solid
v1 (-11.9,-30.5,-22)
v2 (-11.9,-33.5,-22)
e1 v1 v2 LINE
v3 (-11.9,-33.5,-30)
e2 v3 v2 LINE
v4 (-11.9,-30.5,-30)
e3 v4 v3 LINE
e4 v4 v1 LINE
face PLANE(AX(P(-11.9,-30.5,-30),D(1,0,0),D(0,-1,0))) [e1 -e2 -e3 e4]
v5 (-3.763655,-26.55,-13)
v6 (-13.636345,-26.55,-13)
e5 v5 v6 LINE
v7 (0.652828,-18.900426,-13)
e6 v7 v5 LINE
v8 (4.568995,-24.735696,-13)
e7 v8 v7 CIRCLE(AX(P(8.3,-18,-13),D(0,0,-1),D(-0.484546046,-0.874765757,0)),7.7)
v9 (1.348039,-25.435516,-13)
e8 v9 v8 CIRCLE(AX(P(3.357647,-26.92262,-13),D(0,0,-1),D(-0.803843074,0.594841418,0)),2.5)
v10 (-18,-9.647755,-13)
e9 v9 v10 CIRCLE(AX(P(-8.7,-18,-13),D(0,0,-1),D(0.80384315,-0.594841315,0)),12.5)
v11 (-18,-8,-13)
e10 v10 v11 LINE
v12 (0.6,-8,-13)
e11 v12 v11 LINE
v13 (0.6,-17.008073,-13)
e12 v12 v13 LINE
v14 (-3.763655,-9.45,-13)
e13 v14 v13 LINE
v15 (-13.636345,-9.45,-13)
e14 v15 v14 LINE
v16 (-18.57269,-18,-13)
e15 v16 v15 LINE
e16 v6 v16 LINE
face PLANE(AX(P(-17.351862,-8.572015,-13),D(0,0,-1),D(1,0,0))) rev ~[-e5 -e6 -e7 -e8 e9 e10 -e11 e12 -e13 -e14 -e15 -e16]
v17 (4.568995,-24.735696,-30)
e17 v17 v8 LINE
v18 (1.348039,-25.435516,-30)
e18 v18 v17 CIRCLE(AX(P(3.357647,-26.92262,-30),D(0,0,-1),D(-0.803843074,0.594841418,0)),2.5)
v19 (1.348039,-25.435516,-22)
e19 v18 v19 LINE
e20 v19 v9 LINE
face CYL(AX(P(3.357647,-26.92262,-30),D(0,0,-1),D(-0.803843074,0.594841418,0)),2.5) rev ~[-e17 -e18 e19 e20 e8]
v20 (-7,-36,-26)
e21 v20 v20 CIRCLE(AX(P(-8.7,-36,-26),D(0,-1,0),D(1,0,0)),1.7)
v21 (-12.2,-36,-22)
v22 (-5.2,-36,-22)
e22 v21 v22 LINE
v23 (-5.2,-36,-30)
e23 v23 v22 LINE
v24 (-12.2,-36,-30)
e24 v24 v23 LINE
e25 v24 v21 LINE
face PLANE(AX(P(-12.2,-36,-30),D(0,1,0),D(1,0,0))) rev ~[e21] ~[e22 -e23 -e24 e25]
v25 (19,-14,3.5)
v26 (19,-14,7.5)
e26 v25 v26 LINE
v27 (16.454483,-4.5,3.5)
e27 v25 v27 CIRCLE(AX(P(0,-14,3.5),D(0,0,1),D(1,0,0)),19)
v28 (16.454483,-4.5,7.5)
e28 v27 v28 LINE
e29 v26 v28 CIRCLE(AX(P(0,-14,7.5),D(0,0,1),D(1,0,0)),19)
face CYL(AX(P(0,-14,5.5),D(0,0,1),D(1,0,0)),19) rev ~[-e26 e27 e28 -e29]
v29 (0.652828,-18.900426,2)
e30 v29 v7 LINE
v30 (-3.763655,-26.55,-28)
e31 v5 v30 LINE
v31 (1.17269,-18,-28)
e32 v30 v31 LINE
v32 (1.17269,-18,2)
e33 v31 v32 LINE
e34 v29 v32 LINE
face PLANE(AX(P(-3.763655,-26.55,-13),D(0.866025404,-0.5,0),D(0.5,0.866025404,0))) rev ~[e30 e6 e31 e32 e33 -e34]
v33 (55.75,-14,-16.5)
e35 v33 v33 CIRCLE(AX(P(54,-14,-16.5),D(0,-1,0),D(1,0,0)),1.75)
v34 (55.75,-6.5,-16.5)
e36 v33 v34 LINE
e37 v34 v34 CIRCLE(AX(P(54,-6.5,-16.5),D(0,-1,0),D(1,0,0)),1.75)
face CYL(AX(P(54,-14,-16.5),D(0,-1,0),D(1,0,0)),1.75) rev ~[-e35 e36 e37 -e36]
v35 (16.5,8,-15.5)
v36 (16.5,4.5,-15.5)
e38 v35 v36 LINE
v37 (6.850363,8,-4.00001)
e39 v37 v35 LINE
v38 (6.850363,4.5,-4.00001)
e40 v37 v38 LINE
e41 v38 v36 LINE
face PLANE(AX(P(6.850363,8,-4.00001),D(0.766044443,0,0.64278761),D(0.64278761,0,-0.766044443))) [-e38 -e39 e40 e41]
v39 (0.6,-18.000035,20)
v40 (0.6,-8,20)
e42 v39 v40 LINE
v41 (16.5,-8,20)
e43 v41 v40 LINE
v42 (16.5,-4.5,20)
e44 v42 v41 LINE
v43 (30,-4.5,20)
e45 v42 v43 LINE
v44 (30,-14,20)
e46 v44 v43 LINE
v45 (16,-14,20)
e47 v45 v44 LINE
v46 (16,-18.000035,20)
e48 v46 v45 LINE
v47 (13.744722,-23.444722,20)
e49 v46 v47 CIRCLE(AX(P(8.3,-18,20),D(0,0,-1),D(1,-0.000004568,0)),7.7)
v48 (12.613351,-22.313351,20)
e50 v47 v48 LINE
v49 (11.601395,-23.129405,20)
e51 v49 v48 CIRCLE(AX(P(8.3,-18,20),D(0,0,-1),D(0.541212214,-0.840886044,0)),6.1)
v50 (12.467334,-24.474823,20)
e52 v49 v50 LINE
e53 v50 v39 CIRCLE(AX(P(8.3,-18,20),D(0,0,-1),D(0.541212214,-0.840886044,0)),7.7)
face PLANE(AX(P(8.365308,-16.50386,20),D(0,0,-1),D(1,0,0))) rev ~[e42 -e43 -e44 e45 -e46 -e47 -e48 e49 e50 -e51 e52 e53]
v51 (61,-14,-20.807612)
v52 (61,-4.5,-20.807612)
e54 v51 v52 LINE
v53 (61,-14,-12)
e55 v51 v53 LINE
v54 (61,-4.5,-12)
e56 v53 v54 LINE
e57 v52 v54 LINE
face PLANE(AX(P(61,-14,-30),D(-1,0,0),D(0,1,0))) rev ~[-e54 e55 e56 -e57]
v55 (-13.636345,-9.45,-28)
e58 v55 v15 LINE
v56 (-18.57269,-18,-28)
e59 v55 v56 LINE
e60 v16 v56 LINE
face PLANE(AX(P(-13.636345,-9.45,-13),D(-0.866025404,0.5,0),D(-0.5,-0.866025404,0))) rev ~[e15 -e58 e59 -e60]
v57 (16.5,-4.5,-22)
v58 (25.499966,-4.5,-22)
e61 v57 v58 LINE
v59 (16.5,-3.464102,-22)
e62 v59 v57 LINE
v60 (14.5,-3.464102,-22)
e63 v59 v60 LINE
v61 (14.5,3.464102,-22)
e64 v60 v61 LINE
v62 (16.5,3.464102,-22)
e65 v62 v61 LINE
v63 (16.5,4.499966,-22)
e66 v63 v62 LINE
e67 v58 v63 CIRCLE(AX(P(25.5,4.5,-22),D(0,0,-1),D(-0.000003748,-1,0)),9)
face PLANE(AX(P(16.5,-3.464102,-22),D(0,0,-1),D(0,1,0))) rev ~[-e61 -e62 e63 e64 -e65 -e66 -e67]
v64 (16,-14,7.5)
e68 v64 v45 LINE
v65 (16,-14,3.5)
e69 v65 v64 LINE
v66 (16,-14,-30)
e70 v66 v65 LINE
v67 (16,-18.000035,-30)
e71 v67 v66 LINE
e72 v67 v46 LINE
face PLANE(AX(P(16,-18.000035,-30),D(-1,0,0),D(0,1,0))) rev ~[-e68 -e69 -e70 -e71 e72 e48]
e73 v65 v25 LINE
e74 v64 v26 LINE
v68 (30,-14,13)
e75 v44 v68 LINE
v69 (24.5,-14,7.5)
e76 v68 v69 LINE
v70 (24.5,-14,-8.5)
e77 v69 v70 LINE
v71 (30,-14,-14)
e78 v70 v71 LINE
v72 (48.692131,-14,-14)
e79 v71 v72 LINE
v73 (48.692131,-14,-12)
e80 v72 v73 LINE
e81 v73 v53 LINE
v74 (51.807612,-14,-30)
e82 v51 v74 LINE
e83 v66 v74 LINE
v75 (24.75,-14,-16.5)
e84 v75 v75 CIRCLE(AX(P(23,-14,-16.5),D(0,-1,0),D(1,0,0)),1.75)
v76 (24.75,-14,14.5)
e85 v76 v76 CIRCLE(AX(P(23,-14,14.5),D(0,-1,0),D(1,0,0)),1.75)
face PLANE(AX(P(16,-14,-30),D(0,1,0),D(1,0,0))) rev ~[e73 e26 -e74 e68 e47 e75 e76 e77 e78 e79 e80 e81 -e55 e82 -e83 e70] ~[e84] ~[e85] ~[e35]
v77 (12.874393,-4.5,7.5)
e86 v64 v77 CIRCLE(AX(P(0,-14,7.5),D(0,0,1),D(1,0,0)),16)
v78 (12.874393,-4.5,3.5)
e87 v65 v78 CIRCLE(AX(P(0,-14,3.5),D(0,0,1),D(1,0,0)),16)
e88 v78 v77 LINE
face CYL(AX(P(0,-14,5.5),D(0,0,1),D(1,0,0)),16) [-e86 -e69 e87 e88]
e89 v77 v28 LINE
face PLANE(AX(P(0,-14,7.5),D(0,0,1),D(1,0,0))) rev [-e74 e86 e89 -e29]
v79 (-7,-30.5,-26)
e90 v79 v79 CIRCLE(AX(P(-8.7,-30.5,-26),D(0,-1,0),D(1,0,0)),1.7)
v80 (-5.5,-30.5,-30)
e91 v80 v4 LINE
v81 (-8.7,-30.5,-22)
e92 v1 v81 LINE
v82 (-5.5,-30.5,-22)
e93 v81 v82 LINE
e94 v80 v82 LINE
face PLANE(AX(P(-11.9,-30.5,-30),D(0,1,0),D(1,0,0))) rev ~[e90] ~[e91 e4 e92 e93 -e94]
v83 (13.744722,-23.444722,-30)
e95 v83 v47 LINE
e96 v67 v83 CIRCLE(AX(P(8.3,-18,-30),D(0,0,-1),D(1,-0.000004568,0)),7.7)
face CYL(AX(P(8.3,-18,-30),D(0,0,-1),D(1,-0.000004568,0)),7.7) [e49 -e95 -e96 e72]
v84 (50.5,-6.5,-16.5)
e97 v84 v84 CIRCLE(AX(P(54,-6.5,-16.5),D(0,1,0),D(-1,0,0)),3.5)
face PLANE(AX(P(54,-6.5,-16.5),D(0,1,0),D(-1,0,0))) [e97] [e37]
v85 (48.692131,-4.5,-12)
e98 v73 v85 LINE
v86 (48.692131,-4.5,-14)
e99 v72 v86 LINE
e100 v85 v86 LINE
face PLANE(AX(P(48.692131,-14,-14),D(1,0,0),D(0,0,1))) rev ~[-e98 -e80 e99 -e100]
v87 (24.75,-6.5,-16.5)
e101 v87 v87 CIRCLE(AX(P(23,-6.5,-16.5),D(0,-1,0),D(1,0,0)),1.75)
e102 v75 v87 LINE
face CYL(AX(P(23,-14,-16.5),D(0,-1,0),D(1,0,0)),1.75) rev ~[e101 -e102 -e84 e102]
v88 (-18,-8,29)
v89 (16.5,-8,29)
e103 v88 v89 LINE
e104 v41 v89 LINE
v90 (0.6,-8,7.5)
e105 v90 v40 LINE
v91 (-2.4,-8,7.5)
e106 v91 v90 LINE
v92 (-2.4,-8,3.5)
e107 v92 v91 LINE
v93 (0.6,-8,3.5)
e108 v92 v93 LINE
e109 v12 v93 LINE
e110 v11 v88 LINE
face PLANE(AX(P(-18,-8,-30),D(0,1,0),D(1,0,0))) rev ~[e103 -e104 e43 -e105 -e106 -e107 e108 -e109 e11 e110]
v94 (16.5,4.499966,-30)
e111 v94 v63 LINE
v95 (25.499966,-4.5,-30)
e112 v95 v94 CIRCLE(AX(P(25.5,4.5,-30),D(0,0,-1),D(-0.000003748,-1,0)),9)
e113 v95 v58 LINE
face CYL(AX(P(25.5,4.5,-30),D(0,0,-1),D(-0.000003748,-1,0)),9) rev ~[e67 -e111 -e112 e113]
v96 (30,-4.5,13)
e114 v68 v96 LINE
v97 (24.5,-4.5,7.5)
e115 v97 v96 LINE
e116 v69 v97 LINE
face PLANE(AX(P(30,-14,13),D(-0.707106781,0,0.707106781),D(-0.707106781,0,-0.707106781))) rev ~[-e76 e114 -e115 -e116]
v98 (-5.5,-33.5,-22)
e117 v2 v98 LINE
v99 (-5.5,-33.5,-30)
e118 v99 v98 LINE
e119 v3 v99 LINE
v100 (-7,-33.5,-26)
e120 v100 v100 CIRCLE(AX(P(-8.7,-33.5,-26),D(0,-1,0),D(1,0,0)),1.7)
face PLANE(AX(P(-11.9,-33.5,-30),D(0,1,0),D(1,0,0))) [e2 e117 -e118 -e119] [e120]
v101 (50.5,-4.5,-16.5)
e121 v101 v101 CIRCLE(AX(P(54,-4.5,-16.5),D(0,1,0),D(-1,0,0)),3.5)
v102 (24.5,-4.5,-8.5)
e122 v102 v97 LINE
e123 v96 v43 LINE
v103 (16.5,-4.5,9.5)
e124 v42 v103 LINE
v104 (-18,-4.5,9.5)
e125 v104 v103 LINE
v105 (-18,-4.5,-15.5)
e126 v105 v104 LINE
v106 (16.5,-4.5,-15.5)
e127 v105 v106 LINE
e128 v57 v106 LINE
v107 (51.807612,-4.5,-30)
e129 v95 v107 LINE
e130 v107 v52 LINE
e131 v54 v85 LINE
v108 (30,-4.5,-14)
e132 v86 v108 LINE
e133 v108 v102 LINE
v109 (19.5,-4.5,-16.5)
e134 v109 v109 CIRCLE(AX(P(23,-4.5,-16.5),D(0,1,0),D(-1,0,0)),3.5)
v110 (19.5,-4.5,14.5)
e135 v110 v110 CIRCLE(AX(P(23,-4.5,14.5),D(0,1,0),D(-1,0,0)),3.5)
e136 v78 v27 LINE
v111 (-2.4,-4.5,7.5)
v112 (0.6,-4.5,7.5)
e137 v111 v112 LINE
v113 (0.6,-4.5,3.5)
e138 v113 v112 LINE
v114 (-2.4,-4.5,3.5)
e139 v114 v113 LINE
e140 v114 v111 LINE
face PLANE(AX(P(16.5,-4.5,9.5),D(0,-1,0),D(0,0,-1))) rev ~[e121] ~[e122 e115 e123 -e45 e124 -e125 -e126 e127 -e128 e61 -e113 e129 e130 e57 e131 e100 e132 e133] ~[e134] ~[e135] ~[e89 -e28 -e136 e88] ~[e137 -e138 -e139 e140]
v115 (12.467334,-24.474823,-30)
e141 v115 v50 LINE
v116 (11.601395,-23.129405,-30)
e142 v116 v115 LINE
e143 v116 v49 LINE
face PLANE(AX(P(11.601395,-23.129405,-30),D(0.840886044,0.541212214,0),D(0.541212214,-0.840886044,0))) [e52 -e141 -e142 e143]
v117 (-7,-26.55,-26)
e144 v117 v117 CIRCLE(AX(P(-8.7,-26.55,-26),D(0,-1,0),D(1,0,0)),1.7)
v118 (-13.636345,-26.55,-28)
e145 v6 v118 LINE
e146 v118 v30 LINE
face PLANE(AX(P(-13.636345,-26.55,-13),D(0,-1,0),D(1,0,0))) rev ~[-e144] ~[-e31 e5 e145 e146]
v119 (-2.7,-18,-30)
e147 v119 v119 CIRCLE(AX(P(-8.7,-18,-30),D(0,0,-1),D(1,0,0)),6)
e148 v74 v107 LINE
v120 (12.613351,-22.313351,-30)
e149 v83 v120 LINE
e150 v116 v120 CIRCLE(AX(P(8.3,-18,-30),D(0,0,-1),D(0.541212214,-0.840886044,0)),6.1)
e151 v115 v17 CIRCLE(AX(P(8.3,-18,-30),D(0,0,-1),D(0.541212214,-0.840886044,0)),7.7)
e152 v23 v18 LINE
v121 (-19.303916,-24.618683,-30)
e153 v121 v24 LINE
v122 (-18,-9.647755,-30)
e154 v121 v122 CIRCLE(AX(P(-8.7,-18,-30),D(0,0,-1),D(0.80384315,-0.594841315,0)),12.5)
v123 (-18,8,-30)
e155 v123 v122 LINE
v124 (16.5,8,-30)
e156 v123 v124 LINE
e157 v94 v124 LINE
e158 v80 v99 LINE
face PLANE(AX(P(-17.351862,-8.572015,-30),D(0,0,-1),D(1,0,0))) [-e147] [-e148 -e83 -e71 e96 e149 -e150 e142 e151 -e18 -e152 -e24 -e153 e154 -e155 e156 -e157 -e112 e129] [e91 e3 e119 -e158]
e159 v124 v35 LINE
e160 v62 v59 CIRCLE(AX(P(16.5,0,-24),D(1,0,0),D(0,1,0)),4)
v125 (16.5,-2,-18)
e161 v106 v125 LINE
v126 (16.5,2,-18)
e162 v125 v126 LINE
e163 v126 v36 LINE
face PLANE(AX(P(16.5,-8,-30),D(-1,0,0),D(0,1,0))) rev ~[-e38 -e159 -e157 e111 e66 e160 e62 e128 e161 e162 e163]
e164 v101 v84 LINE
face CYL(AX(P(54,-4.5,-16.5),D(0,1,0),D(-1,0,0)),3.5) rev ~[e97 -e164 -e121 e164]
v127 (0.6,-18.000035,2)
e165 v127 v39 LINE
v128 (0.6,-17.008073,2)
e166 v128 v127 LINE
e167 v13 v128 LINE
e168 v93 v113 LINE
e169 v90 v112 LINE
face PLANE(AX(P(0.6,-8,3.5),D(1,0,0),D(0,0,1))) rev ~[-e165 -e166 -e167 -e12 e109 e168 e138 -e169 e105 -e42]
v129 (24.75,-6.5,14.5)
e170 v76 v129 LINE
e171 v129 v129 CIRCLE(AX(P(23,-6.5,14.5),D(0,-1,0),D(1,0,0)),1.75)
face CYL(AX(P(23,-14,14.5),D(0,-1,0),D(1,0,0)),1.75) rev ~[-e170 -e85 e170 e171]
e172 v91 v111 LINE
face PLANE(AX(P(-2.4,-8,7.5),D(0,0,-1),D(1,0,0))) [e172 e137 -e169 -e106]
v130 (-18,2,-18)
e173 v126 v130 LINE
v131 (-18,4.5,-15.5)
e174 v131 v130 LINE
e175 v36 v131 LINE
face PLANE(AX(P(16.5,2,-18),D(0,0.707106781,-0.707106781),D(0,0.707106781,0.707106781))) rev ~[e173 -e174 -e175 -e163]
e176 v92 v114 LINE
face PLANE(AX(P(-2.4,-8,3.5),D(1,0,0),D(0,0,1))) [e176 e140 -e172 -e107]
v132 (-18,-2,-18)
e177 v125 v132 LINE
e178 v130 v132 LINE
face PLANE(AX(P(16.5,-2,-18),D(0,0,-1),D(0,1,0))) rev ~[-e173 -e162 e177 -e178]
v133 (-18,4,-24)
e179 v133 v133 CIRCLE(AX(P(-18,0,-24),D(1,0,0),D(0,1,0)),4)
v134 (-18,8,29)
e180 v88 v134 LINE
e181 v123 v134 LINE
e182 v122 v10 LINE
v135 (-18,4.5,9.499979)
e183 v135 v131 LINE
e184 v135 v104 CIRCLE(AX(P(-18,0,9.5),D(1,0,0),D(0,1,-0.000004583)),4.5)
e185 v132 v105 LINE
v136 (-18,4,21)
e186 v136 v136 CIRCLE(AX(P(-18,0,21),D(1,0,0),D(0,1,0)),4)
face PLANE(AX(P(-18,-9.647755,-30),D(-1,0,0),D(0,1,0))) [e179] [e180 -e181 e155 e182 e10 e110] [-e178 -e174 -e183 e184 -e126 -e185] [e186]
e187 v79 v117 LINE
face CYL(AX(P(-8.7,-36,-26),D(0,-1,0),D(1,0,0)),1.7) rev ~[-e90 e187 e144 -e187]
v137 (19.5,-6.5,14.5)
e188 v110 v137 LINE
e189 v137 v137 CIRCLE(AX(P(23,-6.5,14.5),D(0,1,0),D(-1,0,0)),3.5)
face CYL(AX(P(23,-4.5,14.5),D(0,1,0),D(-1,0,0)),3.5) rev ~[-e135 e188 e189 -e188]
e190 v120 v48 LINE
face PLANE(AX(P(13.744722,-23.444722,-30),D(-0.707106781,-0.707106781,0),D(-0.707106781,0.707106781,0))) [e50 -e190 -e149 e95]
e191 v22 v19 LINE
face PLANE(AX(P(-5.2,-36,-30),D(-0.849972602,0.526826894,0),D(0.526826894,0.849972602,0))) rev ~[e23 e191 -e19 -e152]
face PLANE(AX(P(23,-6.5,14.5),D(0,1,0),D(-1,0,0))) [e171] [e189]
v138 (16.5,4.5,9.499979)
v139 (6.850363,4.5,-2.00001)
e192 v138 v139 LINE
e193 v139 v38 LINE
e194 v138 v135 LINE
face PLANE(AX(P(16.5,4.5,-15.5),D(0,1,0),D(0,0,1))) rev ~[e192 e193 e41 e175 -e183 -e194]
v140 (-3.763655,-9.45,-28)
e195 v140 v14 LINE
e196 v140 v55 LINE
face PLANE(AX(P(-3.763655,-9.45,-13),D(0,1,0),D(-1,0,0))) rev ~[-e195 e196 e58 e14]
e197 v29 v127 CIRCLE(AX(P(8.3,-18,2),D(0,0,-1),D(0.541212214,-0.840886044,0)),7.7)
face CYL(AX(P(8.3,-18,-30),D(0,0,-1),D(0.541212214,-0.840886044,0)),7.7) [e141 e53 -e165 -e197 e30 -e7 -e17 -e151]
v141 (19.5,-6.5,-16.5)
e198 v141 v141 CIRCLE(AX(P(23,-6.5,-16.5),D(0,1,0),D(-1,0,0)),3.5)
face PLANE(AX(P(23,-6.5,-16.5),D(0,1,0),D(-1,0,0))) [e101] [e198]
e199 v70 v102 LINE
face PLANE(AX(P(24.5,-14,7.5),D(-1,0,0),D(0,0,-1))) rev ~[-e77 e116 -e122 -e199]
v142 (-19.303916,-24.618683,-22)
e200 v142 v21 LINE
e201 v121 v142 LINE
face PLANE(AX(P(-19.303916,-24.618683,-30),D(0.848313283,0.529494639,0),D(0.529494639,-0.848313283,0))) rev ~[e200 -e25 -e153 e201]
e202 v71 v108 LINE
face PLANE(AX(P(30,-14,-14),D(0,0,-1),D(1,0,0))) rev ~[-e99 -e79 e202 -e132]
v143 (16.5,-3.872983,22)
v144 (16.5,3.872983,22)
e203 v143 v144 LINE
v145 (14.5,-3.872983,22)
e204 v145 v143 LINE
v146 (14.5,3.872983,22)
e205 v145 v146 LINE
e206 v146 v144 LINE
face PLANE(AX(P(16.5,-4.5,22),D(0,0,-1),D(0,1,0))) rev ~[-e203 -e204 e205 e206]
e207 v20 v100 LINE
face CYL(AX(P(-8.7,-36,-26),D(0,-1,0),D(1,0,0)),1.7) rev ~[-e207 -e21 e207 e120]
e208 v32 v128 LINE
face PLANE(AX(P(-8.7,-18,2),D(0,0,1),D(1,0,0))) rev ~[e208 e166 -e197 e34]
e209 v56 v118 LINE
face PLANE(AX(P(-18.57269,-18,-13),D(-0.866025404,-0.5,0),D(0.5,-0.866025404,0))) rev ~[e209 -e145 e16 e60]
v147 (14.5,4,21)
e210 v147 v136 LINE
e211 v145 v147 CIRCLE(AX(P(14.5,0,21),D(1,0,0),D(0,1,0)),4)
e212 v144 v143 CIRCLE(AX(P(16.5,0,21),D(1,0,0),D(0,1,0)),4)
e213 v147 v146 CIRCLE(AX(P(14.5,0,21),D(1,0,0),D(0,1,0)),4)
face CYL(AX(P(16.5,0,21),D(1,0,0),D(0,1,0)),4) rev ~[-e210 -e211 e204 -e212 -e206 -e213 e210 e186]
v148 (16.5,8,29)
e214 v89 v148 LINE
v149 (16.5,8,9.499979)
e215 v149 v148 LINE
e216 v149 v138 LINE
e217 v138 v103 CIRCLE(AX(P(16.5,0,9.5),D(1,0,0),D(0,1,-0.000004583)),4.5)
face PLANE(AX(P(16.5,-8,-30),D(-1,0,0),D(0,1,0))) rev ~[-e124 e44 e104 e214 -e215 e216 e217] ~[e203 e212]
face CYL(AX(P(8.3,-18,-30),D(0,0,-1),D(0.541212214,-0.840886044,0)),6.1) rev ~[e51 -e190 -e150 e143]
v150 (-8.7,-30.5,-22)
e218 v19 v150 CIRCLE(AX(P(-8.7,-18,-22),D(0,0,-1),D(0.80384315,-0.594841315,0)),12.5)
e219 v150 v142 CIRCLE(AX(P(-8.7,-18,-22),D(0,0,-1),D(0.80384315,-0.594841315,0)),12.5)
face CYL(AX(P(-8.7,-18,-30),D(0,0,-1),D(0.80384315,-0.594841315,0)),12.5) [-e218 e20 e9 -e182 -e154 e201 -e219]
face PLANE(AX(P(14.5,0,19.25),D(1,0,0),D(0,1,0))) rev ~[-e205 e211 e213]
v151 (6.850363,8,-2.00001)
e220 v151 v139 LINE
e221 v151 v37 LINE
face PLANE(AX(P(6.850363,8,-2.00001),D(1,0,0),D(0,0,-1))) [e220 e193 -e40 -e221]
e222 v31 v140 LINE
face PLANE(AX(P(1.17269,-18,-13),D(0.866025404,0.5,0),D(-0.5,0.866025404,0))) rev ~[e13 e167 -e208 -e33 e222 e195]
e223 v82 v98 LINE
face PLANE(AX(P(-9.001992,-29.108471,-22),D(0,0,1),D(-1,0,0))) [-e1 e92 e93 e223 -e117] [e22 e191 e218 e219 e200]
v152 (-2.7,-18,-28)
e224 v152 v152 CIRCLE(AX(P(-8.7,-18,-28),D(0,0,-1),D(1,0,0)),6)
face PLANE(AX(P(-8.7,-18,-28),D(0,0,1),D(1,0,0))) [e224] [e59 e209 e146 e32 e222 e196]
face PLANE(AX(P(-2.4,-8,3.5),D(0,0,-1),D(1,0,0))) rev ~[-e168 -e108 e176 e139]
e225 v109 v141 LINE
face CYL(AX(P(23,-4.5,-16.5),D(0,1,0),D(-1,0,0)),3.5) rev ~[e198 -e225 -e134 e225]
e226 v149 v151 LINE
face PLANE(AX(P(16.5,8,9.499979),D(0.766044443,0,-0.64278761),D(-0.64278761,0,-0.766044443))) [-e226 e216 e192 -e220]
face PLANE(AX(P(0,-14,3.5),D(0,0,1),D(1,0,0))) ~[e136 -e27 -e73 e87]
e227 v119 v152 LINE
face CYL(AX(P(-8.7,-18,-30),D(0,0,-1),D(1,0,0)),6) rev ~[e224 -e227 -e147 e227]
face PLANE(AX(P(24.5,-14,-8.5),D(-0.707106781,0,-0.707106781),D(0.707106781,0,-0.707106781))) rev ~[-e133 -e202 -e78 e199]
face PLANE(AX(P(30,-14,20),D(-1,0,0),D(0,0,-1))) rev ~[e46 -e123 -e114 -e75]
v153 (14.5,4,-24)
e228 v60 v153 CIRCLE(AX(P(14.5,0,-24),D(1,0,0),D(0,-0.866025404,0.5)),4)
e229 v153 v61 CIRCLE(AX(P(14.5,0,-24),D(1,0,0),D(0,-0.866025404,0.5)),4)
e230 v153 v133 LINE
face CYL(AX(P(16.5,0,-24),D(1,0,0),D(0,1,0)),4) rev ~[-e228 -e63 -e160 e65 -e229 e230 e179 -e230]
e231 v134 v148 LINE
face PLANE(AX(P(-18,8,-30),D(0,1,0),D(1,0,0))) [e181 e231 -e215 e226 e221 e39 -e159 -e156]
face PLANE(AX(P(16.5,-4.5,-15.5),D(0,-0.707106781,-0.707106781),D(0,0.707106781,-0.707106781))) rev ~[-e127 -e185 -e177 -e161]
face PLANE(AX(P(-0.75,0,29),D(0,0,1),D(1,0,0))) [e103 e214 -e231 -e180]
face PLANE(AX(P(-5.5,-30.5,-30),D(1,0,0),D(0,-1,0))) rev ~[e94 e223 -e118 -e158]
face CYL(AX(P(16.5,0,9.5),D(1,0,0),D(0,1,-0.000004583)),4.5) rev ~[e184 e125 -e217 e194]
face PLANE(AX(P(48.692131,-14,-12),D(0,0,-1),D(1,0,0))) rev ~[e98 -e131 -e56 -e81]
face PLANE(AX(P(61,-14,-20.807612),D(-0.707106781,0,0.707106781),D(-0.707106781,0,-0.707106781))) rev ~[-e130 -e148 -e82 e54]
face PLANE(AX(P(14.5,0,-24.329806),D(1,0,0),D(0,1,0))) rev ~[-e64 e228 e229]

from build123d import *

# Parameters (mm, degrees)
BOX_W           = 34.5
BOX_H           = 16
BOX_DEPTH       = 59
SKETCH_R        = 4
POCKET_DEPTH    = 34.501
POCKET001_DEPTH = 3.5000000001
BOX001_W        = 45
BOX001_H        = 9.5
BOX001_DEPTH    = 50
SKETCH008_R     = 1.75
POCKET002_DEPTH = 9.5010000001
PAD_DEPTH       = 8
PAD001_DEPTH    = 2
SKETCH009_R     = 3.5
POCKET003_DEPTH = 2
PAD002_DEPTH    = 50
SKETCH013_R     = 6
PAD003_DEPTH    = 17
SKETCH019_W     = 9
SKETCH019_H     = 5.5
PAD004_DEPTH    = 2
SKETCH015_W     = 3
SKETCH015_H     = 4
GROOVE_ANGLE    = 40
SKETCH016_W     = 3
SKETCH016_H     = 4
POCKET004_DEPTH = 5
SKETCH020_W     = 6.4
SKETCH020_H     = 3
PAD005_DEPTH    = 8
SKETCH021_R     = 1.7
POCKET005_DEPTH = 13
POCKET006_DEPTH = 15
PAD006_DEPTH    = 17


with BuildPart() as pocket001:
    # Box → Box (new body)
    with BuildSketch(Plane(origin=(-18, -8, -30), x_dir=(1, 0, 0), z_dir=(0, 0, 1))):
        with Locations((17.25, 8)):
            Rectangle(BOX_W, BOX_H)
    extrude(amount=BOX_DEPTH)

    # Sketch → Pocket (cut, through all)
    with BuildSketch(Plane(origin=(16.5, -8, -30), x_dir=(0, 1, 0), z_dir=(1, 0, 0))):
        with Locations((8, 51)):
            Circle(SKETCH_R)
        with Locations((8, 6)):
            Circle(SKETCH_R)
        with BuildLine():
            ThreePointArc((12.5, 39.4999793754), (8.0000103123, 44), (3.5, 39.5))
            Line((3.5, 39.5), (3.5, 14.5))
            Line((3.5, 14.5), (6, 12))
            Line((6, 12), (10, 12))
            Line((10, 12), (12.5, 14.5))
            Line((12.5, 14.5), (12.5, 39.4999793754))
        make_face()
    extrude(amount=-POCKET_DEPTH, mode=Mode.SUBTRACT)

    # Sketch007 → Pocket001 (cut)
    with BuildSketch(Plane(origin=(-18, 8, -30), x_dir=(-1, 0, 0), z_dir=(0, 1, 0))):
        Polygon((-34.5, 39.4999793754), (-24.8503628945, 27.9999896877), (-24.8503628945, 25.9999896877), (-34.5, 14.5), align=None)
    extrude(amount=-POCKET001_DEPTH, mode=Mode.SUBTRACT)


with BuildPart() as pad006:
    # Box001 → Box001 (new body)
    with BuildSketch(Plane(origin=(16, -14, -30), x_dir=(1, 0, 0), z_dir=(0, 0, 1))):
        with Locations((22.5, 4.75)):
            Rectangle(BOX001_W, BOX001_H)
    extrude(amount=BOX001_DEPTH)

    # Sketch008 → Pocket002 (cut, through all)
    with BuildSketch(Plane(origin=(16, -14, -30), x_dir=(1, 0, 0), z_dir=(0, -1, 0))):
        with Locations((7, 44.5)):
            Circle(SKETCH008_R)
        with Locations((7, 13.5)):
            Circle(SKETCH008_R)
        with Locations((38, 13.5)):
            Circle(SKETCH008_R)
        Polygon((14, 50), (14, 43), (8.5, 37.5), (8.5, 21.5), (14, 16), (32.692131, 16), (32.692131, 18), (45, 18), (45, 50), align=None)
        Polygon((45, 9.1923881554), (35.8076118446, 0), (45, 0), align=None)
    extrude(amount=-POCKET002_DEPTH, mode=Mode.SUBTRACT)

    # Fusion: union Pocket001
    add(pocket001.part)

    # Sketch010 → Pad (new body)
    with BuildSketch(Plane(origin=(0, 0, -30), x_dir=(1, 0, 0), z_dir=(0, 0, -1))):
        with BuildLine():
            ThreePointArc((25.4999662688, 4.4999999999), (19.1360389694, 1.8639610307), (16.5000000001, -4.4999662687))
            Line((16.5000000001, -4.4999662687), (16.5000000001, 4.4999999999))
            Line((16.5000000001, 4.4999999999), (25.4999662688, 4.4999999999))
        make_face()
    extrude(amount=-PAD_DEPTH)

    # Sketch011 → Pad001 (new body)
    with BuildSketch(Plane.YZ.offset(16.5)):
        with BuildLine():
            ThreePointArc((-3.4641016151, -22), (0, -28), (3.4641016151, -22))
            Line((-3.4641016151, -22), (3.4641016151, -22))
        make_face()
    extrude(amount=-PAD001_DEPTH)

    # Sketch009 → Pocket003 (cut)
    with BuildSketch(Plane(origin=(0, -4.5, 0), x_dir=(-1, 0, 0), z_dir=(0, 1, 0))):
        with Locations((-23, 14.5)):
            Circle(SKETCH009_R)
        with Locations((-54, -16.5)):
            Circle(SKETCH009_R)
        with Locations((-23, -16.5)):
            Circle(SKETCH009_R)
    extrude(amount=-POCKET003_DEPTH, mode=Mode.SUBTRACT)

    # Sketch012 → Pad002 (new body)
    with BuildSketch(Plane(origin=(0, 0, -30), x_dir=(1, 0, 0), z_dir=(0, 0, -1))):
        with BuildLine():
            ThreePointArc((15.9999999999, 18.0000351724), (15.4138656704, 20.9466786767), (13.7447222151, 23.4447222151))
            Line((13.7447222151, 23.4447222151), (12.6133513652, 22.3133513652))
            ThreePointArc((11.6013945082, 23.1294048681), (4.4708258711, 13.2515870556), (12.6133513652, 22.3133513652))
            Line((11.6013945082, 23.1294048681), (12.4673340514, 24.4748225384))
            ThreePointArc((12.4673340514, 24.4748225384), (4.6120940547, 24.759389746), (0.6000000001, 18.0000351024))
            Line((0.6000000001, 18.0000351024), (0.6000000001, 8))
            Line((0.6000000001, 8), (15.9999999999, 8))
            Line((15.9999999999, 18.0000351724), (15.9999999999, 8))
        make_face()
    extrude(amount=-PAD002_DEPTH)

    # Sketch013 → Pad003 (new body)
    with BuildSketch(Plane(origin=(0, 0, -30), x_dir=(1, 0, 0), z_dir=(0, 0, -1))):
        with BuildLine():
            ThreePointArc((1.3480393737, 25.435516441), (-17.5103595019, 26.8672185857), (-16.2, 8))
            Line((-16.2, 8), (0.6000000001, 8))
            Line((0.6000000001, 8), (0.6, 18.0000060082))
            ThreePointArc((4.5689954494, 24.7356963295), (1.6660458786, 21.9090475457), (0.6, 18.0000060082))
            ThreePointArc((1.3480393737, 25.435516441), (2.8268537634, 24.4796180457), (4.5689954493, 24.7356963295))
        make_face()
        with Locations((-8.7, 18)):
            Circle(SKETCH013_R, mode=Mode.SUBTRACT)
    extrude(amount=-PAD003_DEPTH)

    # Sketch019 → Pad004 (new body)
    with BuildSketch(Plane.YZ.offset(16.5)):
        with Locations((0, 19.25)):
            Rectangle(SKETCH019_W, SKETCH019_H)
    extrude(amount=-PAD004_DEPTH)

    # Sketch015 → Groove (revolve, cut)
    with BuildSketch(Plane.XZ.offset(14)):
        with Locations((17.5, 5.5)):
            Rectangle(SKETCH015_W, SKETCH015_H)
    revolve(axis=Axis((0, -14, 0), (0, 0, 1)), revolution_arc=GROOVE_ANGLE, mode=Mode.SUBTRACT)

    # Sketch016 → Pocket004 (cut)
    with BuildSketch(Plane.XZ.offset(8)):
        with Locations((-0.8999999999, 5.5)):
            Rectangle(SKETCH016_W, SKETCH016_H)
    extrude(amount=-POCKET004_DEPTH, mode=Mode.SUBTRACT)

    # Sketch020 → Pad005 (new body)
    with BuildSketch(Plane(origin=(0, 0, -30), x_dir=(1, 0, 0), z_dir=(0, 0, -1))):
        Polygon((-19.3039162536, 24.6186826549), (-12.2, 36), (-5.2, 36), (1.3480393737, 25.435516441), align=None)
        with Locations((-8.7, 32)):
            Rectangle(SKETCH020_W, SKETCH020_H, mode=Mode.SUBTRACT)
    extrude(amount=-PAD005_DEPTH)

    # Sketch021 → Pocket005 (cut)
    with BuildSketch(Plane.XZ.offset(36)):
        with Locations((-8.7, -26)):
            Circle(SKETCH021_R)
    extrude(amount=-POCKET005_DEPTH, mode=Mode.SUBTRACT)

    # Sketch022 → Pocket006 (cut, symmetric)
    with BuildSketch(Plane.XY.offset(-13)):
        Polygon((-3.7636551984, -26.55), (1.1726896031, -18), (-3.7636551984, -9.45), (-13.6363448016, -9.45), (-18.5726896031, -18), (-13.6363448016, -26.55), align=None)
    extrude(amount=POCKET006_DEPTH, both=True, mode=Mode.SUBTRACT)

    # Sketch024 → Pad006 (new body)
    with BuildSketch(Plane(origin=(0, 0, -30), x_dir=(1, 0, 0), z_dir=(0, 0, -1))):
        Polygon((-18, 9.6477547929), (-18, 8), (-16.2, 8), align=None)
    extrude(amount=-PAD006_DEPTH)


solid = pad006.part
